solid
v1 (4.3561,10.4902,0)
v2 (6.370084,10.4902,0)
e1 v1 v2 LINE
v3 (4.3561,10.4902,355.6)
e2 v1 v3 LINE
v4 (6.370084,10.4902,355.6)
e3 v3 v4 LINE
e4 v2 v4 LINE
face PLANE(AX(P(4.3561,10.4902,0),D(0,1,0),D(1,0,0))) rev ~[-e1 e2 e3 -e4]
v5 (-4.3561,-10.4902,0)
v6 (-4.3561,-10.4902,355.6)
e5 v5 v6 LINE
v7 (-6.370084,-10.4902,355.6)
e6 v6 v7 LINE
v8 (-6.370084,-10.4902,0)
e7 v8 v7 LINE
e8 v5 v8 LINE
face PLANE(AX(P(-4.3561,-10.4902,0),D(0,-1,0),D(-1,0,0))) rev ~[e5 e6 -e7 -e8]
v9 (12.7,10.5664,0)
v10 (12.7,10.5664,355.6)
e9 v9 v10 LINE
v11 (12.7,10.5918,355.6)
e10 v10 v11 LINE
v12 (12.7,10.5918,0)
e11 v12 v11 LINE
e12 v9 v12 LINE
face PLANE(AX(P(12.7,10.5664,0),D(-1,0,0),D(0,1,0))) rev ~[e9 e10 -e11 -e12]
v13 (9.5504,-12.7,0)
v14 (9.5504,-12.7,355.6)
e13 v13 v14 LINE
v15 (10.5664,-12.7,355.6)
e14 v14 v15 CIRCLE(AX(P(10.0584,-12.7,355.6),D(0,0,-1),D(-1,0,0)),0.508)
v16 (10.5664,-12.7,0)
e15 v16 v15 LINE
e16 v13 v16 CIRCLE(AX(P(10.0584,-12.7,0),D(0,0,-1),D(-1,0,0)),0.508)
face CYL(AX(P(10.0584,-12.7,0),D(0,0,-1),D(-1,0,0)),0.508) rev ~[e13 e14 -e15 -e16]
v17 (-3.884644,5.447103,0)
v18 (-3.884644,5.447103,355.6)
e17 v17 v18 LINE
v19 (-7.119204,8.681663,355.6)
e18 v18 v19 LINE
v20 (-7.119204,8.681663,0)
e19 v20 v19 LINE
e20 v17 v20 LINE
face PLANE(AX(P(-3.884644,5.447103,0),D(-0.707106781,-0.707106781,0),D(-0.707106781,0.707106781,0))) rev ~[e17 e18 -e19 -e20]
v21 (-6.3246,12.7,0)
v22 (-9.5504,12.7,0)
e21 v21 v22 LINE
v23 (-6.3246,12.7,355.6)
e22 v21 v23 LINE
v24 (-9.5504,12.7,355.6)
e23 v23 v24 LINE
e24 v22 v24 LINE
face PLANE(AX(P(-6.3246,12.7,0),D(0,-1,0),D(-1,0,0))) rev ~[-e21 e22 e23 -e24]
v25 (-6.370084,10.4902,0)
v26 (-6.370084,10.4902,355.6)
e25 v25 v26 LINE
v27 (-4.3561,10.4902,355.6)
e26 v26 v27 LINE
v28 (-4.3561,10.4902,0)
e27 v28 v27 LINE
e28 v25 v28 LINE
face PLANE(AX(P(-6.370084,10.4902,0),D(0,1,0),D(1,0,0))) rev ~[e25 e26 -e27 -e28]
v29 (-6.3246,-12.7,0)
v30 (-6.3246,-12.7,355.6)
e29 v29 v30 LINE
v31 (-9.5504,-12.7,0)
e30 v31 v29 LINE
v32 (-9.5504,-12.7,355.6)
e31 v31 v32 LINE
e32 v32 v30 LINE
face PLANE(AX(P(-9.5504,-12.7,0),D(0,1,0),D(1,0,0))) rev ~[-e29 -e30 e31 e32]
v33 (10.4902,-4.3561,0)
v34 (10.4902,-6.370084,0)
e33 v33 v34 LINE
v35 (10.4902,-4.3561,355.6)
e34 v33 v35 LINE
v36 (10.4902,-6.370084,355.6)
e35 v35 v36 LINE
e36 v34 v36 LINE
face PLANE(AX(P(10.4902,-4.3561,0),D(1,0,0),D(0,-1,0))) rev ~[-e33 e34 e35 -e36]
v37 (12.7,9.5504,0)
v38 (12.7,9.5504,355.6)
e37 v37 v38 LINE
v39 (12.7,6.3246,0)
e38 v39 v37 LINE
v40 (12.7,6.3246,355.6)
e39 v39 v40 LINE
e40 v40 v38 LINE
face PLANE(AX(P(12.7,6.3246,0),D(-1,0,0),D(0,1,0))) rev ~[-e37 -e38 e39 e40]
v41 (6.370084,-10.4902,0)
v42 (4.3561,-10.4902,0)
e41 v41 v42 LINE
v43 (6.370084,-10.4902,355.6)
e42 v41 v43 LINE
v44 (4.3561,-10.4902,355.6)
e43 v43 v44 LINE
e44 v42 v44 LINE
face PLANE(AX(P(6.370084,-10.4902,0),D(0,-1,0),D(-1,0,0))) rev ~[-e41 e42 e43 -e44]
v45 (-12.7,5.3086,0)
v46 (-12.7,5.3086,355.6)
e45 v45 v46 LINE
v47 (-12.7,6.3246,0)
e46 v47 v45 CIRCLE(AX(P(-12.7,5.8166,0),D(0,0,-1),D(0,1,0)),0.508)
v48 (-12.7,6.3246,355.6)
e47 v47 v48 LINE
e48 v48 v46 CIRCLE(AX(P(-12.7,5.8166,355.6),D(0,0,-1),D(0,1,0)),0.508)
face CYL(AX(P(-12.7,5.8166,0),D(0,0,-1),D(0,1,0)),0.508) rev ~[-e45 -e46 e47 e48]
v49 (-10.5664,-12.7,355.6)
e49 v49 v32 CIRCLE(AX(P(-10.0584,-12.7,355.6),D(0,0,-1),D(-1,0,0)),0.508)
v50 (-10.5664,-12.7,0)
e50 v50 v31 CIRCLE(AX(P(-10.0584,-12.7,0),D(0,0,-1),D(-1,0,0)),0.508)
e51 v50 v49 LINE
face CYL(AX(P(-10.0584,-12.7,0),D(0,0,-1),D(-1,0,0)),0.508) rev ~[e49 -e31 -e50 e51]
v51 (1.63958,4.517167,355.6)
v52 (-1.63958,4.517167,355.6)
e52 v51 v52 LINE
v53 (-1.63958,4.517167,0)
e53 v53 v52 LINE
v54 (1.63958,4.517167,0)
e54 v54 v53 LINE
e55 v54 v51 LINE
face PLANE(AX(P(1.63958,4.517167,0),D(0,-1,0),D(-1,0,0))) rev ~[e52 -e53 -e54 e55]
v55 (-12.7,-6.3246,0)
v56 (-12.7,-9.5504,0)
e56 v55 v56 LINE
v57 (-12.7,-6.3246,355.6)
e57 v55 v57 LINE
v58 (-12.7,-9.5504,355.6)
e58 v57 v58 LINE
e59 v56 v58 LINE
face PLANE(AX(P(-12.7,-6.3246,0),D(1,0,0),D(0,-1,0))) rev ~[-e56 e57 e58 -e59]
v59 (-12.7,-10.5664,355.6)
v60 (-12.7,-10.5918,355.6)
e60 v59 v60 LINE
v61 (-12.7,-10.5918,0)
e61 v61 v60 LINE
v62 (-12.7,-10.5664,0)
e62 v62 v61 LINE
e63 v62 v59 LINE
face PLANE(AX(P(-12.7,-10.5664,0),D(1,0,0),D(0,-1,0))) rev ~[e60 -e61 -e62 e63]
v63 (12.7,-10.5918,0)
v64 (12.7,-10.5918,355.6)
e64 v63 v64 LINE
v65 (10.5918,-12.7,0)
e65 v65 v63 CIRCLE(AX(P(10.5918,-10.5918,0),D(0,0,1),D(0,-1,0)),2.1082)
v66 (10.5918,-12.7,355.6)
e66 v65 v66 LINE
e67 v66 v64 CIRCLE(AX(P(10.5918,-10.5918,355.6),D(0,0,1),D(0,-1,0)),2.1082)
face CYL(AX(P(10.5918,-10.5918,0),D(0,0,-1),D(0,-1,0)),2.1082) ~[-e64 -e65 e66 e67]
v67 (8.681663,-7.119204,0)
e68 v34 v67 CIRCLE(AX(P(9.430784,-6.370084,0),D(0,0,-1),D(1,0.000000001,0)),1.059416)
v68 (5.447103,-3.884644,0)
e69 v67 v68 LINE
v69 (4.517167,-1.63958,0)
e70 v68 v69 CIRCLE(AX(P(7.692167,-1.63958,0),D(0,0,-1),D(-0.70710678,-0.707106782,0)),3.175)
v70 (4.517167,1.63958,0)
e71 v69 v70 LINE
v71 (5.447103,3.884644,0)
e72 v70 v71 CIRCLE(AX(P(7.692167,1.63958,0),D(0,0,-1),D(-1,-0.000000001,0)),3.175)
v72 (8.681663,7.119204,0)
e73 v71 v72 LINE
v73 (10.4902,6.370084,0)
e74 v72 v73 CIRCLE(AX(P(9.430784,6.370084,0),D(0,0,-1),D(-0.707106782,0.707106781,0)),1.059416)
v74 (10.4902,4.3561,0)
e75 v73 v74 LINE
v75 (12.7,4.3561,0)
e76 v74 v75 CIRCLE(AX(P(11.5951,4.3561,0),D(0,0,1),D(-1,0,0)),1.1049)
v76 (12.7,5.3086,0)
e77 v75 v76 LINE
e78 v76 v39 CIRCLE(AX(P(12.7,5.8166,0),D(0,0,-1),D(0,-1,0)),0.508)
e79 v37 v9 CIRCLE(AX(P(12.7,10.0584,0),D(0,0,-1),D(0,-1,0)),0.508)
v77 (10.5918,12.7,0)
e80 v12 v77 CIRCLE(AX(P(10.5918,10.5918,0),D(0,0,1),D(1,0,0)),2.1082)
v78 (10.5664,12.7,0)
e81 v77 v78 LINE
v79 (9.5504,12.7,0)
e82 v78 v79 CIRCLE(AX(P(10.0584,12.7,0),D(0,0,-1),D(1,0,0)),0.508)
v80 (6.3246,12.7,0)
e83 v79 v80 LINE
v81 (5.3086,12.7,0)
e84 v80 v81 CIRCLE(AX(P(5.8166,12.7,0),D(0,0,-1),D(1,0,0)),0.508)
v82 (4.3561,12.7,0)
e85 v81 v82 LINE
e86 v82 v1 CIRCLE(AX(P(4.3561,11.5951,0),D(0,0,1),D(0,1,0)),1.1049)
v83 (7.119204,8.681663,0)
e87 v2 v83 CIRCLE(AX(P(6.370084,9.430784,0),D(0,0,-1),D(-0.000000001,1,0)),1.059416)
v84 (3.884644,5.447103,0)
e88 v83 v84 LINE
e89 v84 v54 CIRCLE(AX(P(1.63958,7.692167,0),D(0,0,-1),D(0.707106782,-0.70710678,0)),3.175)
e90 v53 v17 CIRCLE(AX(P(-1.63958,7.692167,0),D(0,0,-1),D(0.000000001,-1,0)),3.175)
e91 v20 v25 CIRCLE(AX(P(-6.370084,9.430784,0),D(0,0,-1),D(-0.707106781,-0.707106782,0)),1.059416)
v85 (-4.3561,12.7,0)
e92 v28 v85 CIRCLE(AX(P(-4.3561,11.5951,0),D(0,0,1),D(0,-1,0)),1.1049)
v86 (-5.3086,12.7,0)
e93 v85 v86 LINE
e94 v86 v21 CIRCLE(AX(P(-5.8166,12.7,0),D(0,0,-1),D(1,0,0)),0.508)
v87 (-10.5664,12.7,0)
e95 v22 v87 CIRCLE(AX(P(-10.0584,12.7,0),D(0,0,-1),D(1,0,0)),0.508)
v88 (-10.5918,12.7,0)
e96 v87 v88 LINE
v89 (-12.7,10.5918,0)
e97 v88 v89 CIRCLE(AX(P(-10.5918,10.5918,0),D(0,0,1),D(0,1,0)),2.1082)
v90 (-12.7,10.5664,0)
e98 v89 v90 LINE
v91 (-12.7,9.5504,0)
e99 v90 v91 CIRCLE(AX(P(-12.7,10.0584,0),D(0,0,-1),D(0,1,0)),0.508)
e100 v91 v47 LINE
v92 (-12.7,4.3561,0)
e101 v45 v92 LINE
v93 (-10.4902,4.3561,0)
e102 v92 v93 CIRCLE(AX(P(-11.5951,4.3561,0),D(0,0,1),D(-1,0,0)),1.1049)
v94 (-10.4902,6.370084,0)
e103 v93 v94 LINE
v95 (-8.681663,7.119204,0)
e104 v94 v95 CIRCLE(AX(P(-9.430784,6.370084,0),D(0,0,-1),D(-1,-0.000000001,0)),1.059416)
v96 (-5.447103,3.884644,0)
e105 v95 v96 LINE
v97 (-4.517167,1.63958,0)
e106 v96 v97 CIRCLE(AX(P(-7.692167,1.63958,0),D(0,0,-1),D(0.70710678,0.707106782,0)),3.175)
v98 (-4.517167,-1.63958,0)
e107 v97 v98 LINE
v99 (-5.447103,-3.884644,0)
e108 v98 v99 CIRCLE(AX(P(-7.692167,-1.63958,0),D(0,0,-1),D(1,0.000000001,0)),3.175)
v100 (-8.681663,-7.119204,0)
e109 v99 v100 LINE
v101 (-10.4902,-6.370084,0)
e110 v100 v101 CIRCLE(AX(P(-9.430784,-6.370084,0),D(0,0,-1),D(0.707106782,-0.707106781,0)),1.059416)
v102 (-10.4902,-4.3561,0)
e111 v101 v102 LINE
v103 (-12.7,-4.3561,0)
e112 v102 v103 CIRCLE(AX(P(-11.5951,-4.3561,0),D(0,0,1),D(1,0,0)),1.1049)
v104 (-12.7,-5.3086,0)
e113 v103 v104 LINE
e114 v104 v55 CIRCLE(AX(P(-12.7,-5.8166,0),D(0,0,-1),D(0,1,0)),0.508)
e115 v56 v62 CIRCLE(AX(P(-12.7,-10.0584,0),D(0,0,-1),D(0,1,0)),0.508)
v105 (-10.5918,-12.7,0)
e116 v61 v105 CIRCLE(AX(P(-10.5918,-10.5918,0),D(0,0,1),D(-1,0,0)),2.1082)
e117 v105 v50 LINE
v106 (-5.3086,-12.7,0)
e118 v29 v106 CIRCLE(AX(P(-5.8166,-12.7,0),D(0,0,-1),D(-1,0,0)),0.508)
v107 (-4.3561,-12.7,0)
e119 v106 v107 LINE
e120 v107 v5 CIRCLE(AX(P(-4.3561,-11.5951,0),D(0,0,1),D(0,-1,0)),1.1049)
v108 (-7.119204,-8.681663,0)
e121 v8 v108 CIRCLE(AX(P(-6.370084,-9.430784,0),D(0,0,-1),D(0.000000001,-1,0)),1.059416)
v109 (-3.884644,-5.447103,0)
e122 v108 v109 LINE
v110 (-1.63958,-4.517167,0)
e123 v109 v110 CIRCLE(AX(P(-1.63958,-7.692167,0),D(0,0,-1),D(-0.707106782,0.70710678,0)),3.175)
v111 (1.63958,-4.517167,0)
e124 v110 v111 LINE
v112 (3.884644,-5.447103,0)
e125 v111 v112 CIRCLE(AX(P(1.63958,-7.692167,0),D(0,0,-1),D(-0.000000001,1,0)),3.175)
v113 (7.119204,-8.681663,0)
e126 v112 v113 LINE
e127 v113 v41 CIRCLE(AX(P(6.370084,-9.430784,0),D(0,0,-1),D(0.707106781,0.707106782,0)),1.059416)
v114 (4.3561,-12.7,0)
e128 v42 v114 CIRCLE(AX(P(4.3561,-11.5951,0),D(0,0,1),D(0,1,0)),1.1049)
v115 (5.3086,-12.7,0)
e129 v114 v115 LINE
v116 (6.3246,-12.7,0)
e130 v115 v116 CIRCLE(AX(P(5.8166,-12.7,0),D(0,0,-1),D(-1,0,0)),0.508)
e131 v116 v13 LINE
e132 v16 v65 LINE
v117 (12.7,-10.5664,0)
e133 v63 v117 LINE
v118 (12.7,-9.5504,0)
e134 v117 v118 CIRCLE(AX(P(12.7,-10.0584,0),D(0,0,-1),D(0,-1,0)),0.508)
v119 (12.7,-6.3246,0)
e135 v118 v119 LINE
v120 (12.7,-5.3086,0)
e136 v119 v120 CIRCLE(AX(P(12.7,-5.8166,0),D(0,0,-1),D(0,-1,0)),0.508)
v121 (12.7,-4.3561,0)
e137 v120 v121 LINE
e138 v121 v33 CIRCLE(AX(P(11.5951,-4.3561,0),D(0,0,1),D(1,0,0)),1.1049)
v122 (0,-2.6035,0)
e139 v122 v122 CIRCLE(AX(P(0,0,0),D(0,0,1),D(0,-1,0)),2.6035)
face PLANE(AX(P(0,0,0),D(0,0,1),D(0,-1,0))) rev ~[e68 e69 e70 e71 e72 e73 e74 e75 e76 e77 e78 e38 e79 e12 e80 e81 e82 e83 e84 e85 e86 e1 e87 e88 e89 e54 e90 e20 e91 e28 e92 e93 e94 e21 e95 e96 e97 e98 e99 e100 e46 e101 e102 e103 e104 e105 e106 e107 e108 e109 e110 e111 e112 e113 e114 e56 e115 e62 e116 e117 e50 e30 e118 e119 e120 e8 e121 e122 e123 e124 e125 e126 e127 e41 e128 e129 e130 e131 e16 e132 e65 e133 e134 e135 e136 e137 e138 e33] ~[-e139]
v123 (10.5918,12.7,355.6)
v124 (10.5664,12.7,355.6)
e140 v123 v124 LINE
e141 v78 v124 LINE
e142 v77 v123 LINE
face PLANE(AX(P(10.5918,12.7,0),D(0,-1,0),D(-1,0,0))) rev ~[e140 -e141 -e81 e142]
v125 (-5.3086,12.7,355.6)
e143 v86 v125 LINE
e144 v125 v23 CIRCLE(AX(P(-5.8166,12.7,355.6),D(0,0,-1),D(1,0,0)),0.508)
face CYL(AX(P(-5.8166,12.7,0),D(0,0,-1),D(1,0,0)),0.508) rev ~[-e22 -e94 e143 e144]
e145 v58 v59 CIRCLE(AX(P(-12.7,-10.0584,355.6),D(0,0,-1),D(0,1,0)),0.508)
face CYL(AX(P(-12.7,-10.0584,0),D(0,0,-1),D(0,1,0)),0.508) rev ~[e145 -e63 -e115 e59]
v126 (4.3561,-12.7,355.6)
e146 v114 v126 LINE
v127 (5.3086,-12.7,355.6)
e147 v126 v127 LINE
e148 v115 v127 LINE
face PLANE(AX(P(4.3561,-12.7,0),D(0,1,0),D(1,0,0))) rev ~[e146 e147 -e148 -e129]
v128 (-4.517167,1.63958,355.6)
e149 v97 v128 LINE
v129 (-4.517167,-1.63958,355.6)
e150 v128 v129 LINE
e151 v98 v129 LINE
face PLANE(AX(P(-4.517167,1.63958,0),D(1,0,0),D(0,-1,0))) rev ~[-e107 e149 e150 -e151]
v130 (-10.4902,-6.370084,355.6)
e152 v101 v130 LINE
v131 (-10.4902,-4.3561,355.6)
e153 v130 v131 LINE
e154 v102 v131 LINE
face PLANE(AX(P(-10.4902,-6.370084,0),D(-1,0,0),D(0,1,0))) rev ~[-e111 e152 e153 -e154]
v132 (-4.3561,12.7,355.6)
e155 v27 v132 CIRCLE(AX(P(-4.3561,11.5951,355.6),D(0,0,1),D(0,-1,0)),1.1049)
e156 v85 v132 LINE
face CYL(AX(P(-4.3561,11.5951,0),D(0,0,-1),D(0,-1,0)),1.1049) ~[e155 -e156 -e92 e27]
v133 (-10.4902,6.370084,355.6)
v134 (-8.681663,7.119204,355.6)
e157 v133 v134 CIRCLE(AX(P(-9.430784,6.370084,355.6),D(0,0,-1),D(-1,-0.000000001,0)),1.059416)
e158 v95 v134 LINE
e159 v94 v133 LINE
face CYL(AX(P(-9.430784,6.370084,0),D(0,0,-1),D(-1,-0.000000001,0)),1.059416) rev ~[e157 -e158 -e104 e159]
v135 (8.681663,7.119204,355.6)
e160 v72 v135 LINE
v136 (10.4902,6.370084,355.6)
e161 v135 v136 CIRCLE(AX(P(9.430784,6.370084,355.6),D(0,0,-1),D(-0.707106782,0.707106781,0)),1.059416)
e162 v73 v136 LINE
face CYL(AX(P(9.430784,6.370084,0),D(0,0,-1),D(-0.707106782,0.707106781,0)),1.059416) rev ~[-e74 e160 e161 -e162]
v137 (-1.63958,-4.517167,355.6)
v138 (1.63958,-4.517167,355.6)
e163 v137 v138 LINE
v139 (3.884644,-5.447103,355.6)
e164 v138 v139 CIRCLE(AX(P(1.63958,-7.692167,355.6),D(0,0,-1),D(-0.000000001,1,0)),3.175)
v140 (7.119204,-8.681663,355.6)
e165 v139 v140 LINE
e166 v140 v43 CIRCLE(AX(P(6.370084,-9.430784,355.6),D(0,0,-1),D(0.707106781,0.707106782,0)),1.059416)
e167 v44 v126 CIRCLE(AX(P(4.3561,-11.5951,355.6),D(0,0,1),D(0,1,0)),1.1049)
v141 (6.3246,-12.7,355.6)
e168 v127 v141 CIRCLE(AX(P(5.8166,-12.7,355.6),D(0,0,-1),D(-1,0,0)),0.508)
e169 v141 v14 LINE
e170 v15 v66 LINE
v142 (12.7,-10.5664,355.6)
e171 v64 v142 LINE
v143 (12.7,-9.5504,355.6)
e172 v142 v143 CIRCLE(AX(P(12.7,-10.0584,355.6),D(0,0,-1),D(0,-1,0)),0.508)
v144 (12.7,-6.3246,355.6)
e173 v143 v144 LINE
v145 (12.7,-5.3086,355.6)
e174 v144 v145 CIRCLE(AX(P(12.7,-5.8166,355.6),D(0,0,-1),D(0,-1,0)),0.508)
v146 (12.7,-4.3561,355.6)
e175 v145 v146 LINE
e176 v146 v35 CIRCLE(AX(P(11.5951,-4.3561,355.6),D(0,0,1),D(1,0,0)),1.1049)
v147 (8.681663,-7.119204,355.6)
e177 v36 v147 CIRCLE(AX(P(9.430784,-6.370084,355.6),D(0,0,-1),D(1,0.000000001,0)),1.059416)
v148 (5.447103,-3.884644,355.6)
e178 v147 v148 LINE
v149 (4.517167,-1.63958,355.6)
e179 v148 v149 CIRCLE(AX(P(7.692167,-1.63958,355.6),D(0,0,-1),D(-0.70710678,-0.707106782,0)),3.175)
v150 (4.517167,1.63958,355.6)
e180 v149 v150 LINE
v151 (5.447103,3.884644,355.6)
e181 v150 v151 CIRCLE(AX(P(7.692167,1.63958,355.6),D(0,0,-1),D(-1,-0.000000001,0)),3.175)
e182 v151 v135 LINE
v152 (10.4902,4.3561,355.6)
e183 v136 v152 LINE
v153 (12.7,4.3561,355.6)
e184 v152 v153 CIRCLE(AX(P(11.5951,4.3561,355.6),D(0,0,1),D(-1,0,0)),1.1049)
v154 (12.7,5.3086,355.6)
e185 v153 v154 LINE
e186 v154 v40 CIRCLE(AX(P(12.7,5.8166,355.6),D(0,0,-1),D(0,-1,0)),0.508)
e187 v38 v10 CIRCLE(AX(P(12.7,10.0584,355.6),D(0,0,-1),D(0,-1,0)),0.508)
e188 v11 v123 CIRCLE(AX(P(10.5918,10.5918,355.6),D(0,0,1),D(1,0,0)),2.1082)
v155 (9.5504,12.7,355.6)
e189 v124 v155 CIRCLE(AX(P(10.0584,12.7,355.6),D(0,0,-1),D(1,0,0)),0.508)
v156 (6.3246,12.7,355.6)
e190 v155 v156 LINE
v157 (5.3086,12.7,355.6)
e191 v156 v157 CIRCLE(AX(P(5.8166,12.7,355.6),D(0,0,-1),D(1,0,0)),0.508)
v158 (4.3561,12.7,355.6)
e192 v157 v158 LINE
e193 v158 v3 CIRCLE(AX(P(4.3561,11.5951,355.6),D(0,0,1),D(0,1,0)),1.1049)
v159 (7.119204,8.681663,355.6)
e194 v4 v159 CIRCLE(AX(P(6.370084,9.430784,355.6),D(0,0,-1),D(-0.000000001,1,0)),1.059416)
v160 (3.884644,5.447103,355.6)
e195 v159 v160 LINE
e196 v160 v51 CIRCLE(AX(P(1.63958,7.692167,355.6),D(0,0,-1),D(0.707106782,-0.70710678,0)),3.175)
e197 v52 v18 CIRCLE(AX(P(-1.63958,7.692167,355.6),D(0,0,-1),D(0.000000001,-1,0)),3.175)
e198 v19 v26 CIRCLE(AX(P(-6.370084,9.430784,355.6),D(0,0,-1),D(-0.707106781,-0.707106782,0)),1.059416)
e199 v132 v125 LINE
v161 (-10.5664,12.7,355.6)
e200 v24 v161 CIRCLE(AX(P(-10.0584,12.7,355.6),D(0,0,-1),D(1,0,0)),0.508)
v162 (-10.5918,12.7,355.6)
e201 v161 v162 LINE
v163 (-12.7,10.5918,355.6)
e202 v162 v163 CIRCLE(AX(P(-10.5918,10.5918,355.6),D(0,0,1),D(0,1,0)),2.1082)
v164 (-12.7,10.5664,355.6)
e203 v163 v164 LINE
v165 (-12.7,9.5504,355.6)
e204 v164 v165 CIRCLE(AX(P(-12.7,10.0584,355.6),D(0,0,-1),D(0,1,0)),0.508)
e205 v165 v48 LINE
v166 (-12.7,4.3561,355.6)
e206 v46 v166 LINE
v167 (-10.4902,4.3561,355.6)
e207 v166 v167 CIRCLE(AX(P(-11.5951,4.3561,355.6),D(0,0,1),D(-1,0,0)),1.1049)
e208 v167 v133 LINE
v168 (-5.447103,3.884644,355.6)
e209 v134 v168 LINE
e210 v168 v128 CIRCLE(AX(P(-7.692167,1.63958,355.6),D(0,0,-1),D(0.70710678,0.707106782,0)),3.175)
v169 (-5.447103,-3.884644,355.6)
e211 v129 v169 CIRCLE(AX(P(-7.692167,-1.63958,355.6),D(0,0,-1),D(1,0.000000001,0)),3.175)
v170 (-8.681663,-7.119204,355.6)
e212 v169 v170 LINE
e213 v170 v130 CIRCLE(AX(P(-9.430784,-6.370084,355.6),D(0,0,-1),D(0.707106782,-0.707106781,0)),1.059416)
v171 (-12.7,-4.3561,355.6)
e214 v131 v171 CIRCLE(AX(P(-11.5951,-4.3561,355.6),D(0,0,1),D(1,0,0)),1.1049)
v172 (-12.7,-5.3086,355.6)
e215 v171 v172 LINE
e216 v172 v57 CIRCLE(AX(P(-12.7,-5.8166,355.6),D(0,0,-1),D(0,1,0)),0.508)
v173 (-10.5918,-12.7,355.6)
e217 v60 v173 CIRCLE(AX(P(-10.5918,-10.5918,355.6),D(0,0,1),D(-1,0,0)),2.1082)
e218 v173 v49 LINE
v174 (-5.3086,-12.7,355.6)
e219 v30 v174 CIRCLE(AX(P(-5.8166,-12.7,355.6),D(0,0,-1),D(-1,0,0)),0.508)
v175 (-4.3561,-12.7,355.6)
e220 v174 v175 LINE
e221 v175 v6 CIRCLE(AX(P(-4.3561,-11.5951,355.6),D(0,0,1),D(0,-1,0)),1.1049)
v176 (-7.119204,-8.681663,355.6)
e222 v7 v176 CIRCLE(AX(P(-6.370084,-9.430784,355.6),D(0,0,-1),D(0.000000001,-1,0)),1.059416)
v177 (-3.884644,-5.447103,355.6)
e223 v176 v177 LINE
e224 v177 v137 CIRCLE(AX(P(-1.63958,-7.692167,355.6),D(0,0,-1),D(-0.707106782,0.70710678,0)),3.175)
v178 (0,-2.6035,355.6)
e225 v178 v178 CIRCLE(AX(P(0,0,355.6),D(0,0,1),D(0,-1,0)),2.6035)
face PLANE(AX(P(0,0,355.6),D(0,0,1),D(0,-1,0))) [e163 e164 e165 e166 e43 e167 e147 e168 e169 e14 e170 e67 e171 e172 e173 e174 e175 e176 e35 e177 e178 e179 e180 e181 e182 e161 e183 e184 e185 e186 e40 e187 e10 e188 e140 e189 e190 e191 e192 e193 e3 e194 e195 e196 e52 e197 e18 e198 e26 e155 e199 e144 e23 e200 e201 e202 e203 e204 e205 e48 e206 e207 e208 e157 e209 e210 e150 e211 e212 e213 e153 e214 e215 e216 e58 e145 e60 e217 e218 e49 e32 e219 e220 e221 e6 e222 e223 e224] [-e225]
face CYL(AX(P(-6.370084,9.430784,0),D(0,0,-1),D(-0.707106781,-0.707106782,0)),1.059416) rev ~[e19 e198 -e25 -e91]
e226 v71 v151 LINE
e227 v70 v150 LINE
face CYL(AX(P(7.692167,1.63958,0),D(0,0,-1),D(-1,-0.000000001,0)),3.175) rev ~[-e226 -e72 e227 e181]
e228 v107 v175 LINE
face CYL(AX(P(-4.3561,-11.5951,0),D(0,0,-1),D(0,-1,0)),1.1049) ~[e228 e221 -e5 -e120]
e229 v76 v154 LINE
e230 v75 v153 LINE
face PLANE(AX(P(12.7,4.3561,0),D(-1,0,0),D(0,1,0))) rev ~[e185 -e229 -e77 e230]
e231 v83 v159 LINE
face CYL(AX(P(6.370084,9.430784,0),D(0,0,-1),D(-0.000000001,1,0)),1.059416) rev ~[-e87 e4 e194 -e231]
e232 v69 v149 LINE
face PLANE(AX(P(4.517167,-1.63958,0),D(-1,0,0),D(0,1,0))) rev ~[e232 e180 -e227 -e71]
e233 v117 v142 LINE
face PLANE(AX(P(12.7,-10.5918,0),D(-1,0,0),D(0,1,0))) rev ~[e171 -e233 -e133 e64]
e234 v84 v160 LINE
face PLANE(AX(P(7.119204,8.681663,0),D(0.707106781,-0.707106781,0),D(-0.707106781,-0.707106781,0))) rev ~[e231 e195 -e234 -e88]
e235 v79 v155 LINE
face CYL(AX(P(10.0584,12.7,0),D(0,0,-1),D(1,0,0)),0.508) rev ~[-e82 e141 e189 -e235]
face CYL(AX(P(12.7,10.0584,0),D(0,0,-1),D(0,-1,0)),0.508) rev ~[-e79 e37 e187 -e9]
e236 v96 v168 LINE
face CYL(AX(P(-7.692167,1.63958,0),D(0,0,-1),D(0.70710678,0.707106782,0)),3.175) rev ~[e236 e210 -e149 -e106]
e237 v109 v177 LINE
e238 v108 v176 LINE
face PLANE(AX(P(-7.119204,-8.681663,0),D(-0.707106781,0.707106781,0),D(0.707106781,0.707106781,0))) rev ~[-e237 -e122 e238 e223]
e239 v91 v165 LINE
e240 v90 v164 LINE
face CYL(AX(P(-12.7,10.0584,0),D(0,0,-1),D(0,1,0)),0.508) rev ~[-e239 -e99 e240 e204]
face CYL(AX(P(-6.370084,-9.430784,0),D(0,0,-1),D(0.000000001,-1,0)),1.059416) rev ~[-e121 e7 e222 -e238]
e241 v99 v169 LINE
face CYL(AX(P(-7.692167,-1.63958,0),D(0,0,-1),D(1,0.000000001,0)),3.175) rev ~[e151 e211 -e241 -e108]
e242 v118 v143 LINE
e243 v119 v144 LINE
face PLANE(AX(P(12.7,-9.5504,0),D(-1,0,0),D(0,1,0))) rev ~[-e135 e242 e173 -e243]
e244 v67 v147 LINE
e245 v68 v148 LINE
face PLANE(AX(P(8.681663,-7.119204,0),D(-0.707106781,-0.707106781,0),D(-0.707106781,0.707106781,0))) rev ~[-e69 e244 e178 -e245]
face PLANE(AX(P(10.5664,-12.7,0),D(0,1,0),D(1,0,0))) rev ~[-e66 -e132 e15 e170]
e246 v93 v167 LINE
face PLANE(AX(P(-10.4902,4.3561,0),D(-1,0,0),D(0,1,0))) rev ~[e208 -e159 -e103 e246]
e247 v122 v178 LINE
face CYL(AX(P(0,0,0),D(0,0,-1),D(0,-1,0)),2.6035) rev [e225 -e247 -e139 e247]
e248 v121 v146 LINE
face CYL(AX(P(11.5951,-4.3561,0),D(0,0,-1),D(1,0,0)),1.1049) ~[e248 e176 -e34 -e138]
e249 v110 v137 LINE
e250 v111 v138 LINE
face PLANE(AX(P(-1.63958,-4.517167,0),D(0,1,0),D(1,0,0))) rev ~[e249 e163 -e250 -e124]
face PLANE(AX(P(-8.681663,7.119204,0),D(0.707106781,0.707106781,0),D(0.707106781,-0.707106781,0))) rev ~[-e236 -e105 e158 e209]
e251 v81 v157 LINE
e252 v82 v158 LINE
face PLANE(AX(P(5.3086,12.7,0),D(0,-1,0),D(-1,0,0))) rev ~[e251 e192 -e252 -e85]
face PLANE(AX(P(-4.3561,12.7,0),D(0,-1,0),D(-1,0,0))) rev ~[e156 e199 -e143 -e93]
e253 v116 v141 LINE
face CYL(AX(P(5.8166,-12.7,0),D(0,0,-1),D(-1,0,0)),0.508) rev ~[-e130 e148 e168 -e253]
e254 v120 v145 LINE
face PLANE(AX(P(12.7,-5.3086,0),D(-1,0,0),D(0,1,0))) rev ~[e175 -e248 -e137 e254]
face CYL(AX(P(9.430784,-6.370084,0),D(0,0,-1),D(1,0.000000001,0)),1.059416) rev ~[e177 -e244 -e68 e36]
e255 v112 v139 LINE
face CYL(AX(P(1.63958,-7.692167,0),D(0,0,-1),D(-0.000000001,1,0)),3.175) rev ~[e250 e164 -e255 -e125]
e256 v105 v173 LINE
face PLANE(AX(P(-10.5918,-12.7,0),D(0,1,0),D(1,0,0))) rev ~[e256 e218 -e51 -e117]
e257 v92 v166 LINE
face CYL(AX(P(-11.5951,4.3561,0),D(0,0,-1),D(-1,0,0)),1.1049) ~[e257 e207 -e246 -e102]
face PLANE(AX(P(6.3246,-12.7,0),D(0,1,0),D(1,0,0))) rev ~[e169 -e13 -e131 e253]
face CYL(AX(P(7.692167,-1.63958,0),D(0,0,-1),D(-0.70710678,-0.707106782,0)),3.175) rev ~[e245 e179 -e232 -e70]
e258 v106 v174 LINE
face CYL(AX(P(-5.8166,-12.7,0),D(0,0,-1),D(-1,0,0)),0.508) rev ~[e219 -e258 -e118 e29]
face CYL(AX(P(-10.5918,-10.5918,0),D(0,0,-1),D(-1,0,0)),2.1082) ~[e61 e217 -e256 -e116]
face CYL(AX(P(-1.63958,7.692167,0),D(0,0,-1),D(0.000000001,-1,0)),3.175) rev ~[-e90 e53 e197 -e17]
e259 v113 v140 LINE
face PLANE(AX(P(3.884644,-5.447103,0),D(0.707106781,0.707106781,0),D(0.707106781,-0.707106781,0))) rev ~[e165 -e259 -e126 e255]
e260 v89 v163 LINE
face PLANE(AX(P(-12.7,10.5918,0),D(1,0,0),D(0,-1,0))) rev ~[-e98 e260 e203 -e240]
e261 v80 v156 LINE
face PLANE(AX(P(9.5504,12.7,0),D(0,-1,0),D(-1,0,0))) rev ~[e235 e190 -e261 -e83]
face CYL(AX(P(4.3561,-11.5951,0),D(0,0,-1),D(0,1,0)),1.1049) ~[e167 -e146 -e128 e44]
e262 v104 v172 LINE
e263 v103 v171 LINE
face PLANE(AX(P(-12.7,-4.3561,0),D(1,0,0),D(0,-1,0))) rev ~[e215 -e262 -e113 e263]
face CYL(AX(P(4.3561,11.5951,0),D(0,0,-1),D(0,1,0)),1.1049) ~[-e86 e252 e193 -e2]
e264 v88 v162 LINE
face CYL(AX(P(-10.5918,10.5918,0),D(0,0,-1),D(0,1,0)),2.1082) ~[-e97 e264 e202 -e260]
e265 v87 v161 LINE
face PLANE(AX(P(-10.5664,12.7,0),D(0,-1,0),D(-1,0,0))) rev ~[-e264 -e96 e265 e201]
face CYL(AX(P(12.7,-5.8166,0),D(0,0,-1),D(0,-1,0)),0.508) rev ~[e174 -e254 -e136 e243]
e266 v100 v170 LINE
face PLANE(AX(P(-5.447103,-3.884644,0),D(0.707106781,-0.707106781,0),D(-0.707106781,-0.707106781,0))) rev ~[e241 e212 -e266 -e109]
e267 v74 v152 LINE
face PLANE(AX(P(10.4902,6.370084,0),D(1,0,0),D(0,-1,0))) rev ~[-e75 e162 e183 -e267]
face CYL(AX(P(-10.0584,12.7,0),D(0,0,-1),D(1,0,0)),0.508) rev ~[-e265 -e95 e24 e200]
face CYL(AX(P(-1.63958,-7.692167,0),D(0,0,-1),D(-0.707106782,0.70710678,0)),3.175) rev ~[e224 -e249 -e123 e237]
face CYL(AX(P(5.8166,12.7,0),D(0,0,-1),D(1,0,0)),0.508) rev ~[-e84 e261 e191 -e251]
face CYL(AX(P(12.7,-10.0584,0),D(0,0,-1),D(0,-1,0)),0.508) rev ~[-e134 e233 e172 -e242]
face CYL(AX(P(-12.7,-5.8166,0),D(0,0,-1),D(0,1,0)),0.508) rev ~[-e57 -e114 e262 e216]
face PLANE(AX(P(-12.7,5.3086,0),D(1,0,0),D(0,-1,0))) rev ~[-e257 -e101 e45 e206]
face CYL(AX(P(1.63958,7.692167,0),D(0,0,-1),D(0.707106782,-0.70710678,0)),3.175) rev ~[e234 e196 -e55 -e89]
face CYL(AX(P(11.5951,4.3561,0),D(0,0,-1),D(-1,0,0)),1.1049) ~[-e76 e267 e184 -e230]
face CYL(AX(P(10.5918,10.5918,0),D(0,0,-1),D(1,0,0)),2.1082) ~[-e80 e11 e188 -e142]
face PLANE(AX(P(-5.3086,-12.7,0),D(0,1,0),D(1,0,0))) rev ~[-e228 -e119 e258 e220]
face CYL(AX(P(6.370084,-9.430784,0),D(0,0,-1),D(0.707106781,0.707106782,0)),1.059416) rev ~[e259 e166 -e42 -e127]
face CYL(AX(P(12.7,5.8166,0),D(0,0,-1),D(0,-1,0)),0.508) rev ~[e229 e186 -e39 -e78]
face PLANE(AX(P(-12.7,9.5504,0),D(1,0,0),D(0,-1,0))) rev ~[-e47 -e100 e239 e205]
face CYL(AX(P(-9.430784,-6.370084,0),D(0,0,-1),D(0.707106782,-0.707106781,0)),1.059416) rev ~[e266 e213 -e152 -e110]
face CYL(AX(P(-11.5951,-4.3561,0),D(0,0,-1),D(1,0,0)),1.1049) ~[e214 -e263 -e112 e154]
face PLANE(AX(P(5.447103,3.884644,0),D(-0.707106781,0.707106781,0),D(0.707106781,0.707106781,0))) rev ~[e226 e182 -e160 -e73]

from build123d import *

# Parameters (mm, degrees)
SKETCH11_R              = 2.6035
FRACTIONAL_1010_1_DEPTH = 355.6


with BuildPart() as part:
    # Sketch11 → Fractional 1010(1) (new body)
    with BuildSketch(Plane(origin=(0, 0, 0), x_dir=(0, -1, 0), z_dir=(0, 0, 1))):
        with BuildLine():
            Line((10.5918, 12.7), (10.5664, 12.7))
            ThreePointArc((10.5664, 12.7), (10.0584, 12.192), (9.5504, 12.7))
            Line((9.5504, 12.7), (6.3246, 12.7))
            ThreePointArc((6.3246, 12.7), (5.8166, 12.192), (5.3086, 12.7))
            Line((5.3086, 12.7), (4.3561, 12.7))
            ThreePointArc((4.3561, 12.7), (3.2512, 11.5951), (4.3561, 10.4902))
            Line((4.3561, 10.4902), (6.370083786, 10.4902))
            ThreePointArc((6.370083786, 10.4902), (7.348856743, 9.836204819), (7.119204175, 8.681663397))
            Line((7.119204175, 8.681663397), (3.88464389, 5.447103113))
            ThreePointArc((3.88464389, 5.447103113), (2.854599758, 4.758849627), (1.63957986, 4.517167143))
            Line((1.63957986, 4.517167143), (-1.63957986, 4.517167143))
            ThreePointArc((-1.63957986, 4.517167143), (-2.854599758, 4.758849627), (-3.88464389, 5.447103113))
            Line((-3.88464389, 5.447103113), (-7.119204175, 8.681663397))
            ThreePointArc((-7.119204175, 8.681663397), (-7.348856743, 9.836204819), (-6.370083786, 10.4902))
            Line((-6.370083786, 10.4902), (-4.3561, 10.4902))
            ThreePointArc((-4.3561, 10.4902), (-3.2512, 11.5951), (-4.3561, 12.7))
            Line((-4.3561, 12.7), (-5.3086, 12.7))
            ThreePointArc((-5.3086, 12.7), (-5.8166, 12.192), (-6.3246, 12.7))
            Line((-6.3246, 12.7), (-9.5504, 12.7))
            ThreePointArc((-9.5504, 12.7), (-10.0584, 12.192), (-10.5664, 12.7))
            Line((-10.5664, 12.7), (-10.5918, 12.7))
            ThreePointArc((-10.5918, 12.7), (-12.082522516, 12.082522516), (-12.7, 10.5918))
            Line((-12.7, 10.5918), (-12.7, 10.5664))
            ThreePointArc((-12.7, 10.5664), (-12.192, 10.0584), (-12.7, 9.5504))
            Line((-12.7, 9.5504), (-12.7, 6.3246))
            ThreePointArc((-12.7, 6.3246), (-12.192, 5.8166), (-12.7, 5.3086))
            Line((-12.7, 5.3086), (-12.7, 4.3561))
            ThreePointArc((-12.7, 4.3561), (-11.5951, 3.2512), (-10.4902, 4.3561))
            Line((-10.4902, 4.3561), (-10.4902, 6.370083786))
            ThreePointArc((-10.4902, 6.370083786), (-9.836204819, 7.348856743), (-8.681663397, 7.119204175))
            Line((-8.681663397, 7.119204175), (-5.447103113, 3.88464389))
            ThreePointArc((-5.447103113, 3.88464389), (-4.758849627, 2.854599758), (-4.517167143, 1.63957986))
            Line((-4.517167143, 1.63957986), (-4.517167143, -1.63957986))
            ThreePointArc((-4.517167143, -1.63957986), (-4.758849627, -2.854599758), (-5.447103113, -3.88464389))
            Line((-5.447103113, -3.88464389), (-8.681663397, -7.119204175))
            ThreePointArc((-8.681663397, -7.119204175), (-9.836204819, -7.348856743), (-10.4902, -6.370083786))
            Line((-10.4902, -6.370083786), (-10.4902, -4.3561))
            ThreePointArc((-10.4902, -4.3561), (-11.5951, -3.2512), (-12.7, -4.3561))
            Line((-12.7, -4.3561), (-12.7, -5.3086))
            ThreePointArc((-12.7, -5.3086), (-12.192, -5.8166), (-12.7, -6.3246))
            Line((-12.7, -6.3246), (-12.7, -9.5504))
            ThreePointArc((-12.7, -9.5504), (-12.192, -10.0584), (-12.7, -10.5664))
            Line((-12.7, -10.5664), (-12.7, -10.5918))
            ThreePointArc((-12.7, -10.5918), (-12.082522516, -12.082522516), (-10.5918, -12.7))
            Line((-10.5918, -12.7), (-10.5664, -12.7))
            ThreePointArc((-10.5664, -12.7), (-10.0584, -12.192), (-9.5504, -12.7))
            Line((-9.5504, -12.7), (-6.3246, -12.7))
            ThreePointArc((-6.3246, -12.7), (-5.8166, -12.192), (-5.3086, -12.7))
            Line((-5.3086, -12.7), (-4.3561, -12.7))
            ThreePointArc((-4.3561, -12.7), (-3.2512, -11.5951), (-4.3561, -10.4902))
            Line((-4.3561, -10.4902), (-6.370083786, -10.4902))
            ThreePointArc((-6.370083786, -10.4902), (-7.348856743, -9.836204819), (-7.119204175, -8.681663397))
            Line((-7.119204175, -8.681663397), (-3.88464389, -5.447103113))
            ThreePointArc((-3.88464389, -5.447103113), (-2.854599758, -4.758849627), (-1.63957986, -4.517167143))
            Line((-1.63957986, -4.517167143), (1.63957986, -4.517167143))
            ThreePointArc((1.63957986, -4.517167143), (2.854599758, -4.758849627), (3.88464389, -5.447103113))
            Line((3.88464389, -5.447103113), (7.119204175, -8.681663397))
            ThreePointArc((7.119204175, -8.681663397), (7.348856743, -9.836204819), (6.370083786, -10.4902))
            Line((6.370083786, -10.4902), (4.3561, -10.4902))
            ThreePointArc((4.3561, -10.4902), (3.2512, -11.5951), (4.3561, -12.7))
            Line((4.3561, -12.7), (5.3086, -12.7))
            ThreePointArc((5.3086, -12.7), (5.8166, -12.192), (6.3246, -12.7))
            Line((6.3246, -12.7), (9.5504, -12.7))
            ThreePointArc((9.5504, -12.7), (10.0584, -12.192), (10.5664, -12.7))
            Line((10.5664, -12.7), (10.5918, -12.7))
            ThreePointArc((10.5918, -12.7), (12.082522516, -12.082522516), (12.7, -10.5918))
            Line((12.7, -10.5918), (12.7, -10.5664))
            ThreePointArc((12.7, -10.5664), (12.192, -10.0584), (12.7, -9.5504))
            Line((12.7, -9.5504), (12.7, -6.3246))
            ThreePointArc((12.7, -6.3246), (12.192, -5.8166), (12.7, -5.3086))
            Line((12.7, -5.3086), (12.7, -4.3561))
            ThreePointArc((12.7, -4.3561), (11.5951, -3.2512), (10.4902, -4.3561))
            Line((10.4902, -4.3561), (10.4902, -6.370083786))
            ThreePointArc((10.4902, -6.370083786), (9.836204819, -7.348856743), (8.681663397, -7.119204175))
            Line((8.681663397, -7.119204175), (5.447103113, -3.88464389))
            ThreePointArc((5.447103113, -3.88464389), (4.758849627, -2.854599758), (4.517167143, -1.63957986))
            Line((4.517167143, -1.63957986), (4.517167143, 1.63957986))
            ThreePointArc((4.517167143, 1.63957986), (4.758849627, 2.854599758), (5.447103113, 3.88464389))
            Line((5.447103113, 3.88464389), (8.681663397, 7.119204175))
            ThreePointArc((8.681663397, 7.119204175), (9.836204819, 7.348856743), (10.4902, 6.370083786))
            Line((10.4902, 6.370083786), (10.4902, 4.3561))
            ThreePointArc((10.4902, 4.3561), (11.5951, 3.2512), (12.7, 4.3561))
            Line((12.7, 4.3561), (12.7, 5.3086))
            ThreePointArc((12.7, 5.3086), (12.192, 5.8166), (12.7, 6.3246))
            Line((12.7, 6.3246), (12.7, 9.5504))
            ThreePointArc((12.7, 9.5504), (12.192, 10.0584), (12.7, 10.5664))
            Line((12.7, 10.5664), (12.7, 10.5918))
            ThreePointArc((12.7, 10.5918), (12.082522516, 12.082522516), (10.5918, 12.7))
        make_face()
        Circle(SKETCH11_R, mode=Mode.SUBTRACT)
    extrude(amount=FRACTIONAL_1010_1_DEPTH)


solid = part.part
